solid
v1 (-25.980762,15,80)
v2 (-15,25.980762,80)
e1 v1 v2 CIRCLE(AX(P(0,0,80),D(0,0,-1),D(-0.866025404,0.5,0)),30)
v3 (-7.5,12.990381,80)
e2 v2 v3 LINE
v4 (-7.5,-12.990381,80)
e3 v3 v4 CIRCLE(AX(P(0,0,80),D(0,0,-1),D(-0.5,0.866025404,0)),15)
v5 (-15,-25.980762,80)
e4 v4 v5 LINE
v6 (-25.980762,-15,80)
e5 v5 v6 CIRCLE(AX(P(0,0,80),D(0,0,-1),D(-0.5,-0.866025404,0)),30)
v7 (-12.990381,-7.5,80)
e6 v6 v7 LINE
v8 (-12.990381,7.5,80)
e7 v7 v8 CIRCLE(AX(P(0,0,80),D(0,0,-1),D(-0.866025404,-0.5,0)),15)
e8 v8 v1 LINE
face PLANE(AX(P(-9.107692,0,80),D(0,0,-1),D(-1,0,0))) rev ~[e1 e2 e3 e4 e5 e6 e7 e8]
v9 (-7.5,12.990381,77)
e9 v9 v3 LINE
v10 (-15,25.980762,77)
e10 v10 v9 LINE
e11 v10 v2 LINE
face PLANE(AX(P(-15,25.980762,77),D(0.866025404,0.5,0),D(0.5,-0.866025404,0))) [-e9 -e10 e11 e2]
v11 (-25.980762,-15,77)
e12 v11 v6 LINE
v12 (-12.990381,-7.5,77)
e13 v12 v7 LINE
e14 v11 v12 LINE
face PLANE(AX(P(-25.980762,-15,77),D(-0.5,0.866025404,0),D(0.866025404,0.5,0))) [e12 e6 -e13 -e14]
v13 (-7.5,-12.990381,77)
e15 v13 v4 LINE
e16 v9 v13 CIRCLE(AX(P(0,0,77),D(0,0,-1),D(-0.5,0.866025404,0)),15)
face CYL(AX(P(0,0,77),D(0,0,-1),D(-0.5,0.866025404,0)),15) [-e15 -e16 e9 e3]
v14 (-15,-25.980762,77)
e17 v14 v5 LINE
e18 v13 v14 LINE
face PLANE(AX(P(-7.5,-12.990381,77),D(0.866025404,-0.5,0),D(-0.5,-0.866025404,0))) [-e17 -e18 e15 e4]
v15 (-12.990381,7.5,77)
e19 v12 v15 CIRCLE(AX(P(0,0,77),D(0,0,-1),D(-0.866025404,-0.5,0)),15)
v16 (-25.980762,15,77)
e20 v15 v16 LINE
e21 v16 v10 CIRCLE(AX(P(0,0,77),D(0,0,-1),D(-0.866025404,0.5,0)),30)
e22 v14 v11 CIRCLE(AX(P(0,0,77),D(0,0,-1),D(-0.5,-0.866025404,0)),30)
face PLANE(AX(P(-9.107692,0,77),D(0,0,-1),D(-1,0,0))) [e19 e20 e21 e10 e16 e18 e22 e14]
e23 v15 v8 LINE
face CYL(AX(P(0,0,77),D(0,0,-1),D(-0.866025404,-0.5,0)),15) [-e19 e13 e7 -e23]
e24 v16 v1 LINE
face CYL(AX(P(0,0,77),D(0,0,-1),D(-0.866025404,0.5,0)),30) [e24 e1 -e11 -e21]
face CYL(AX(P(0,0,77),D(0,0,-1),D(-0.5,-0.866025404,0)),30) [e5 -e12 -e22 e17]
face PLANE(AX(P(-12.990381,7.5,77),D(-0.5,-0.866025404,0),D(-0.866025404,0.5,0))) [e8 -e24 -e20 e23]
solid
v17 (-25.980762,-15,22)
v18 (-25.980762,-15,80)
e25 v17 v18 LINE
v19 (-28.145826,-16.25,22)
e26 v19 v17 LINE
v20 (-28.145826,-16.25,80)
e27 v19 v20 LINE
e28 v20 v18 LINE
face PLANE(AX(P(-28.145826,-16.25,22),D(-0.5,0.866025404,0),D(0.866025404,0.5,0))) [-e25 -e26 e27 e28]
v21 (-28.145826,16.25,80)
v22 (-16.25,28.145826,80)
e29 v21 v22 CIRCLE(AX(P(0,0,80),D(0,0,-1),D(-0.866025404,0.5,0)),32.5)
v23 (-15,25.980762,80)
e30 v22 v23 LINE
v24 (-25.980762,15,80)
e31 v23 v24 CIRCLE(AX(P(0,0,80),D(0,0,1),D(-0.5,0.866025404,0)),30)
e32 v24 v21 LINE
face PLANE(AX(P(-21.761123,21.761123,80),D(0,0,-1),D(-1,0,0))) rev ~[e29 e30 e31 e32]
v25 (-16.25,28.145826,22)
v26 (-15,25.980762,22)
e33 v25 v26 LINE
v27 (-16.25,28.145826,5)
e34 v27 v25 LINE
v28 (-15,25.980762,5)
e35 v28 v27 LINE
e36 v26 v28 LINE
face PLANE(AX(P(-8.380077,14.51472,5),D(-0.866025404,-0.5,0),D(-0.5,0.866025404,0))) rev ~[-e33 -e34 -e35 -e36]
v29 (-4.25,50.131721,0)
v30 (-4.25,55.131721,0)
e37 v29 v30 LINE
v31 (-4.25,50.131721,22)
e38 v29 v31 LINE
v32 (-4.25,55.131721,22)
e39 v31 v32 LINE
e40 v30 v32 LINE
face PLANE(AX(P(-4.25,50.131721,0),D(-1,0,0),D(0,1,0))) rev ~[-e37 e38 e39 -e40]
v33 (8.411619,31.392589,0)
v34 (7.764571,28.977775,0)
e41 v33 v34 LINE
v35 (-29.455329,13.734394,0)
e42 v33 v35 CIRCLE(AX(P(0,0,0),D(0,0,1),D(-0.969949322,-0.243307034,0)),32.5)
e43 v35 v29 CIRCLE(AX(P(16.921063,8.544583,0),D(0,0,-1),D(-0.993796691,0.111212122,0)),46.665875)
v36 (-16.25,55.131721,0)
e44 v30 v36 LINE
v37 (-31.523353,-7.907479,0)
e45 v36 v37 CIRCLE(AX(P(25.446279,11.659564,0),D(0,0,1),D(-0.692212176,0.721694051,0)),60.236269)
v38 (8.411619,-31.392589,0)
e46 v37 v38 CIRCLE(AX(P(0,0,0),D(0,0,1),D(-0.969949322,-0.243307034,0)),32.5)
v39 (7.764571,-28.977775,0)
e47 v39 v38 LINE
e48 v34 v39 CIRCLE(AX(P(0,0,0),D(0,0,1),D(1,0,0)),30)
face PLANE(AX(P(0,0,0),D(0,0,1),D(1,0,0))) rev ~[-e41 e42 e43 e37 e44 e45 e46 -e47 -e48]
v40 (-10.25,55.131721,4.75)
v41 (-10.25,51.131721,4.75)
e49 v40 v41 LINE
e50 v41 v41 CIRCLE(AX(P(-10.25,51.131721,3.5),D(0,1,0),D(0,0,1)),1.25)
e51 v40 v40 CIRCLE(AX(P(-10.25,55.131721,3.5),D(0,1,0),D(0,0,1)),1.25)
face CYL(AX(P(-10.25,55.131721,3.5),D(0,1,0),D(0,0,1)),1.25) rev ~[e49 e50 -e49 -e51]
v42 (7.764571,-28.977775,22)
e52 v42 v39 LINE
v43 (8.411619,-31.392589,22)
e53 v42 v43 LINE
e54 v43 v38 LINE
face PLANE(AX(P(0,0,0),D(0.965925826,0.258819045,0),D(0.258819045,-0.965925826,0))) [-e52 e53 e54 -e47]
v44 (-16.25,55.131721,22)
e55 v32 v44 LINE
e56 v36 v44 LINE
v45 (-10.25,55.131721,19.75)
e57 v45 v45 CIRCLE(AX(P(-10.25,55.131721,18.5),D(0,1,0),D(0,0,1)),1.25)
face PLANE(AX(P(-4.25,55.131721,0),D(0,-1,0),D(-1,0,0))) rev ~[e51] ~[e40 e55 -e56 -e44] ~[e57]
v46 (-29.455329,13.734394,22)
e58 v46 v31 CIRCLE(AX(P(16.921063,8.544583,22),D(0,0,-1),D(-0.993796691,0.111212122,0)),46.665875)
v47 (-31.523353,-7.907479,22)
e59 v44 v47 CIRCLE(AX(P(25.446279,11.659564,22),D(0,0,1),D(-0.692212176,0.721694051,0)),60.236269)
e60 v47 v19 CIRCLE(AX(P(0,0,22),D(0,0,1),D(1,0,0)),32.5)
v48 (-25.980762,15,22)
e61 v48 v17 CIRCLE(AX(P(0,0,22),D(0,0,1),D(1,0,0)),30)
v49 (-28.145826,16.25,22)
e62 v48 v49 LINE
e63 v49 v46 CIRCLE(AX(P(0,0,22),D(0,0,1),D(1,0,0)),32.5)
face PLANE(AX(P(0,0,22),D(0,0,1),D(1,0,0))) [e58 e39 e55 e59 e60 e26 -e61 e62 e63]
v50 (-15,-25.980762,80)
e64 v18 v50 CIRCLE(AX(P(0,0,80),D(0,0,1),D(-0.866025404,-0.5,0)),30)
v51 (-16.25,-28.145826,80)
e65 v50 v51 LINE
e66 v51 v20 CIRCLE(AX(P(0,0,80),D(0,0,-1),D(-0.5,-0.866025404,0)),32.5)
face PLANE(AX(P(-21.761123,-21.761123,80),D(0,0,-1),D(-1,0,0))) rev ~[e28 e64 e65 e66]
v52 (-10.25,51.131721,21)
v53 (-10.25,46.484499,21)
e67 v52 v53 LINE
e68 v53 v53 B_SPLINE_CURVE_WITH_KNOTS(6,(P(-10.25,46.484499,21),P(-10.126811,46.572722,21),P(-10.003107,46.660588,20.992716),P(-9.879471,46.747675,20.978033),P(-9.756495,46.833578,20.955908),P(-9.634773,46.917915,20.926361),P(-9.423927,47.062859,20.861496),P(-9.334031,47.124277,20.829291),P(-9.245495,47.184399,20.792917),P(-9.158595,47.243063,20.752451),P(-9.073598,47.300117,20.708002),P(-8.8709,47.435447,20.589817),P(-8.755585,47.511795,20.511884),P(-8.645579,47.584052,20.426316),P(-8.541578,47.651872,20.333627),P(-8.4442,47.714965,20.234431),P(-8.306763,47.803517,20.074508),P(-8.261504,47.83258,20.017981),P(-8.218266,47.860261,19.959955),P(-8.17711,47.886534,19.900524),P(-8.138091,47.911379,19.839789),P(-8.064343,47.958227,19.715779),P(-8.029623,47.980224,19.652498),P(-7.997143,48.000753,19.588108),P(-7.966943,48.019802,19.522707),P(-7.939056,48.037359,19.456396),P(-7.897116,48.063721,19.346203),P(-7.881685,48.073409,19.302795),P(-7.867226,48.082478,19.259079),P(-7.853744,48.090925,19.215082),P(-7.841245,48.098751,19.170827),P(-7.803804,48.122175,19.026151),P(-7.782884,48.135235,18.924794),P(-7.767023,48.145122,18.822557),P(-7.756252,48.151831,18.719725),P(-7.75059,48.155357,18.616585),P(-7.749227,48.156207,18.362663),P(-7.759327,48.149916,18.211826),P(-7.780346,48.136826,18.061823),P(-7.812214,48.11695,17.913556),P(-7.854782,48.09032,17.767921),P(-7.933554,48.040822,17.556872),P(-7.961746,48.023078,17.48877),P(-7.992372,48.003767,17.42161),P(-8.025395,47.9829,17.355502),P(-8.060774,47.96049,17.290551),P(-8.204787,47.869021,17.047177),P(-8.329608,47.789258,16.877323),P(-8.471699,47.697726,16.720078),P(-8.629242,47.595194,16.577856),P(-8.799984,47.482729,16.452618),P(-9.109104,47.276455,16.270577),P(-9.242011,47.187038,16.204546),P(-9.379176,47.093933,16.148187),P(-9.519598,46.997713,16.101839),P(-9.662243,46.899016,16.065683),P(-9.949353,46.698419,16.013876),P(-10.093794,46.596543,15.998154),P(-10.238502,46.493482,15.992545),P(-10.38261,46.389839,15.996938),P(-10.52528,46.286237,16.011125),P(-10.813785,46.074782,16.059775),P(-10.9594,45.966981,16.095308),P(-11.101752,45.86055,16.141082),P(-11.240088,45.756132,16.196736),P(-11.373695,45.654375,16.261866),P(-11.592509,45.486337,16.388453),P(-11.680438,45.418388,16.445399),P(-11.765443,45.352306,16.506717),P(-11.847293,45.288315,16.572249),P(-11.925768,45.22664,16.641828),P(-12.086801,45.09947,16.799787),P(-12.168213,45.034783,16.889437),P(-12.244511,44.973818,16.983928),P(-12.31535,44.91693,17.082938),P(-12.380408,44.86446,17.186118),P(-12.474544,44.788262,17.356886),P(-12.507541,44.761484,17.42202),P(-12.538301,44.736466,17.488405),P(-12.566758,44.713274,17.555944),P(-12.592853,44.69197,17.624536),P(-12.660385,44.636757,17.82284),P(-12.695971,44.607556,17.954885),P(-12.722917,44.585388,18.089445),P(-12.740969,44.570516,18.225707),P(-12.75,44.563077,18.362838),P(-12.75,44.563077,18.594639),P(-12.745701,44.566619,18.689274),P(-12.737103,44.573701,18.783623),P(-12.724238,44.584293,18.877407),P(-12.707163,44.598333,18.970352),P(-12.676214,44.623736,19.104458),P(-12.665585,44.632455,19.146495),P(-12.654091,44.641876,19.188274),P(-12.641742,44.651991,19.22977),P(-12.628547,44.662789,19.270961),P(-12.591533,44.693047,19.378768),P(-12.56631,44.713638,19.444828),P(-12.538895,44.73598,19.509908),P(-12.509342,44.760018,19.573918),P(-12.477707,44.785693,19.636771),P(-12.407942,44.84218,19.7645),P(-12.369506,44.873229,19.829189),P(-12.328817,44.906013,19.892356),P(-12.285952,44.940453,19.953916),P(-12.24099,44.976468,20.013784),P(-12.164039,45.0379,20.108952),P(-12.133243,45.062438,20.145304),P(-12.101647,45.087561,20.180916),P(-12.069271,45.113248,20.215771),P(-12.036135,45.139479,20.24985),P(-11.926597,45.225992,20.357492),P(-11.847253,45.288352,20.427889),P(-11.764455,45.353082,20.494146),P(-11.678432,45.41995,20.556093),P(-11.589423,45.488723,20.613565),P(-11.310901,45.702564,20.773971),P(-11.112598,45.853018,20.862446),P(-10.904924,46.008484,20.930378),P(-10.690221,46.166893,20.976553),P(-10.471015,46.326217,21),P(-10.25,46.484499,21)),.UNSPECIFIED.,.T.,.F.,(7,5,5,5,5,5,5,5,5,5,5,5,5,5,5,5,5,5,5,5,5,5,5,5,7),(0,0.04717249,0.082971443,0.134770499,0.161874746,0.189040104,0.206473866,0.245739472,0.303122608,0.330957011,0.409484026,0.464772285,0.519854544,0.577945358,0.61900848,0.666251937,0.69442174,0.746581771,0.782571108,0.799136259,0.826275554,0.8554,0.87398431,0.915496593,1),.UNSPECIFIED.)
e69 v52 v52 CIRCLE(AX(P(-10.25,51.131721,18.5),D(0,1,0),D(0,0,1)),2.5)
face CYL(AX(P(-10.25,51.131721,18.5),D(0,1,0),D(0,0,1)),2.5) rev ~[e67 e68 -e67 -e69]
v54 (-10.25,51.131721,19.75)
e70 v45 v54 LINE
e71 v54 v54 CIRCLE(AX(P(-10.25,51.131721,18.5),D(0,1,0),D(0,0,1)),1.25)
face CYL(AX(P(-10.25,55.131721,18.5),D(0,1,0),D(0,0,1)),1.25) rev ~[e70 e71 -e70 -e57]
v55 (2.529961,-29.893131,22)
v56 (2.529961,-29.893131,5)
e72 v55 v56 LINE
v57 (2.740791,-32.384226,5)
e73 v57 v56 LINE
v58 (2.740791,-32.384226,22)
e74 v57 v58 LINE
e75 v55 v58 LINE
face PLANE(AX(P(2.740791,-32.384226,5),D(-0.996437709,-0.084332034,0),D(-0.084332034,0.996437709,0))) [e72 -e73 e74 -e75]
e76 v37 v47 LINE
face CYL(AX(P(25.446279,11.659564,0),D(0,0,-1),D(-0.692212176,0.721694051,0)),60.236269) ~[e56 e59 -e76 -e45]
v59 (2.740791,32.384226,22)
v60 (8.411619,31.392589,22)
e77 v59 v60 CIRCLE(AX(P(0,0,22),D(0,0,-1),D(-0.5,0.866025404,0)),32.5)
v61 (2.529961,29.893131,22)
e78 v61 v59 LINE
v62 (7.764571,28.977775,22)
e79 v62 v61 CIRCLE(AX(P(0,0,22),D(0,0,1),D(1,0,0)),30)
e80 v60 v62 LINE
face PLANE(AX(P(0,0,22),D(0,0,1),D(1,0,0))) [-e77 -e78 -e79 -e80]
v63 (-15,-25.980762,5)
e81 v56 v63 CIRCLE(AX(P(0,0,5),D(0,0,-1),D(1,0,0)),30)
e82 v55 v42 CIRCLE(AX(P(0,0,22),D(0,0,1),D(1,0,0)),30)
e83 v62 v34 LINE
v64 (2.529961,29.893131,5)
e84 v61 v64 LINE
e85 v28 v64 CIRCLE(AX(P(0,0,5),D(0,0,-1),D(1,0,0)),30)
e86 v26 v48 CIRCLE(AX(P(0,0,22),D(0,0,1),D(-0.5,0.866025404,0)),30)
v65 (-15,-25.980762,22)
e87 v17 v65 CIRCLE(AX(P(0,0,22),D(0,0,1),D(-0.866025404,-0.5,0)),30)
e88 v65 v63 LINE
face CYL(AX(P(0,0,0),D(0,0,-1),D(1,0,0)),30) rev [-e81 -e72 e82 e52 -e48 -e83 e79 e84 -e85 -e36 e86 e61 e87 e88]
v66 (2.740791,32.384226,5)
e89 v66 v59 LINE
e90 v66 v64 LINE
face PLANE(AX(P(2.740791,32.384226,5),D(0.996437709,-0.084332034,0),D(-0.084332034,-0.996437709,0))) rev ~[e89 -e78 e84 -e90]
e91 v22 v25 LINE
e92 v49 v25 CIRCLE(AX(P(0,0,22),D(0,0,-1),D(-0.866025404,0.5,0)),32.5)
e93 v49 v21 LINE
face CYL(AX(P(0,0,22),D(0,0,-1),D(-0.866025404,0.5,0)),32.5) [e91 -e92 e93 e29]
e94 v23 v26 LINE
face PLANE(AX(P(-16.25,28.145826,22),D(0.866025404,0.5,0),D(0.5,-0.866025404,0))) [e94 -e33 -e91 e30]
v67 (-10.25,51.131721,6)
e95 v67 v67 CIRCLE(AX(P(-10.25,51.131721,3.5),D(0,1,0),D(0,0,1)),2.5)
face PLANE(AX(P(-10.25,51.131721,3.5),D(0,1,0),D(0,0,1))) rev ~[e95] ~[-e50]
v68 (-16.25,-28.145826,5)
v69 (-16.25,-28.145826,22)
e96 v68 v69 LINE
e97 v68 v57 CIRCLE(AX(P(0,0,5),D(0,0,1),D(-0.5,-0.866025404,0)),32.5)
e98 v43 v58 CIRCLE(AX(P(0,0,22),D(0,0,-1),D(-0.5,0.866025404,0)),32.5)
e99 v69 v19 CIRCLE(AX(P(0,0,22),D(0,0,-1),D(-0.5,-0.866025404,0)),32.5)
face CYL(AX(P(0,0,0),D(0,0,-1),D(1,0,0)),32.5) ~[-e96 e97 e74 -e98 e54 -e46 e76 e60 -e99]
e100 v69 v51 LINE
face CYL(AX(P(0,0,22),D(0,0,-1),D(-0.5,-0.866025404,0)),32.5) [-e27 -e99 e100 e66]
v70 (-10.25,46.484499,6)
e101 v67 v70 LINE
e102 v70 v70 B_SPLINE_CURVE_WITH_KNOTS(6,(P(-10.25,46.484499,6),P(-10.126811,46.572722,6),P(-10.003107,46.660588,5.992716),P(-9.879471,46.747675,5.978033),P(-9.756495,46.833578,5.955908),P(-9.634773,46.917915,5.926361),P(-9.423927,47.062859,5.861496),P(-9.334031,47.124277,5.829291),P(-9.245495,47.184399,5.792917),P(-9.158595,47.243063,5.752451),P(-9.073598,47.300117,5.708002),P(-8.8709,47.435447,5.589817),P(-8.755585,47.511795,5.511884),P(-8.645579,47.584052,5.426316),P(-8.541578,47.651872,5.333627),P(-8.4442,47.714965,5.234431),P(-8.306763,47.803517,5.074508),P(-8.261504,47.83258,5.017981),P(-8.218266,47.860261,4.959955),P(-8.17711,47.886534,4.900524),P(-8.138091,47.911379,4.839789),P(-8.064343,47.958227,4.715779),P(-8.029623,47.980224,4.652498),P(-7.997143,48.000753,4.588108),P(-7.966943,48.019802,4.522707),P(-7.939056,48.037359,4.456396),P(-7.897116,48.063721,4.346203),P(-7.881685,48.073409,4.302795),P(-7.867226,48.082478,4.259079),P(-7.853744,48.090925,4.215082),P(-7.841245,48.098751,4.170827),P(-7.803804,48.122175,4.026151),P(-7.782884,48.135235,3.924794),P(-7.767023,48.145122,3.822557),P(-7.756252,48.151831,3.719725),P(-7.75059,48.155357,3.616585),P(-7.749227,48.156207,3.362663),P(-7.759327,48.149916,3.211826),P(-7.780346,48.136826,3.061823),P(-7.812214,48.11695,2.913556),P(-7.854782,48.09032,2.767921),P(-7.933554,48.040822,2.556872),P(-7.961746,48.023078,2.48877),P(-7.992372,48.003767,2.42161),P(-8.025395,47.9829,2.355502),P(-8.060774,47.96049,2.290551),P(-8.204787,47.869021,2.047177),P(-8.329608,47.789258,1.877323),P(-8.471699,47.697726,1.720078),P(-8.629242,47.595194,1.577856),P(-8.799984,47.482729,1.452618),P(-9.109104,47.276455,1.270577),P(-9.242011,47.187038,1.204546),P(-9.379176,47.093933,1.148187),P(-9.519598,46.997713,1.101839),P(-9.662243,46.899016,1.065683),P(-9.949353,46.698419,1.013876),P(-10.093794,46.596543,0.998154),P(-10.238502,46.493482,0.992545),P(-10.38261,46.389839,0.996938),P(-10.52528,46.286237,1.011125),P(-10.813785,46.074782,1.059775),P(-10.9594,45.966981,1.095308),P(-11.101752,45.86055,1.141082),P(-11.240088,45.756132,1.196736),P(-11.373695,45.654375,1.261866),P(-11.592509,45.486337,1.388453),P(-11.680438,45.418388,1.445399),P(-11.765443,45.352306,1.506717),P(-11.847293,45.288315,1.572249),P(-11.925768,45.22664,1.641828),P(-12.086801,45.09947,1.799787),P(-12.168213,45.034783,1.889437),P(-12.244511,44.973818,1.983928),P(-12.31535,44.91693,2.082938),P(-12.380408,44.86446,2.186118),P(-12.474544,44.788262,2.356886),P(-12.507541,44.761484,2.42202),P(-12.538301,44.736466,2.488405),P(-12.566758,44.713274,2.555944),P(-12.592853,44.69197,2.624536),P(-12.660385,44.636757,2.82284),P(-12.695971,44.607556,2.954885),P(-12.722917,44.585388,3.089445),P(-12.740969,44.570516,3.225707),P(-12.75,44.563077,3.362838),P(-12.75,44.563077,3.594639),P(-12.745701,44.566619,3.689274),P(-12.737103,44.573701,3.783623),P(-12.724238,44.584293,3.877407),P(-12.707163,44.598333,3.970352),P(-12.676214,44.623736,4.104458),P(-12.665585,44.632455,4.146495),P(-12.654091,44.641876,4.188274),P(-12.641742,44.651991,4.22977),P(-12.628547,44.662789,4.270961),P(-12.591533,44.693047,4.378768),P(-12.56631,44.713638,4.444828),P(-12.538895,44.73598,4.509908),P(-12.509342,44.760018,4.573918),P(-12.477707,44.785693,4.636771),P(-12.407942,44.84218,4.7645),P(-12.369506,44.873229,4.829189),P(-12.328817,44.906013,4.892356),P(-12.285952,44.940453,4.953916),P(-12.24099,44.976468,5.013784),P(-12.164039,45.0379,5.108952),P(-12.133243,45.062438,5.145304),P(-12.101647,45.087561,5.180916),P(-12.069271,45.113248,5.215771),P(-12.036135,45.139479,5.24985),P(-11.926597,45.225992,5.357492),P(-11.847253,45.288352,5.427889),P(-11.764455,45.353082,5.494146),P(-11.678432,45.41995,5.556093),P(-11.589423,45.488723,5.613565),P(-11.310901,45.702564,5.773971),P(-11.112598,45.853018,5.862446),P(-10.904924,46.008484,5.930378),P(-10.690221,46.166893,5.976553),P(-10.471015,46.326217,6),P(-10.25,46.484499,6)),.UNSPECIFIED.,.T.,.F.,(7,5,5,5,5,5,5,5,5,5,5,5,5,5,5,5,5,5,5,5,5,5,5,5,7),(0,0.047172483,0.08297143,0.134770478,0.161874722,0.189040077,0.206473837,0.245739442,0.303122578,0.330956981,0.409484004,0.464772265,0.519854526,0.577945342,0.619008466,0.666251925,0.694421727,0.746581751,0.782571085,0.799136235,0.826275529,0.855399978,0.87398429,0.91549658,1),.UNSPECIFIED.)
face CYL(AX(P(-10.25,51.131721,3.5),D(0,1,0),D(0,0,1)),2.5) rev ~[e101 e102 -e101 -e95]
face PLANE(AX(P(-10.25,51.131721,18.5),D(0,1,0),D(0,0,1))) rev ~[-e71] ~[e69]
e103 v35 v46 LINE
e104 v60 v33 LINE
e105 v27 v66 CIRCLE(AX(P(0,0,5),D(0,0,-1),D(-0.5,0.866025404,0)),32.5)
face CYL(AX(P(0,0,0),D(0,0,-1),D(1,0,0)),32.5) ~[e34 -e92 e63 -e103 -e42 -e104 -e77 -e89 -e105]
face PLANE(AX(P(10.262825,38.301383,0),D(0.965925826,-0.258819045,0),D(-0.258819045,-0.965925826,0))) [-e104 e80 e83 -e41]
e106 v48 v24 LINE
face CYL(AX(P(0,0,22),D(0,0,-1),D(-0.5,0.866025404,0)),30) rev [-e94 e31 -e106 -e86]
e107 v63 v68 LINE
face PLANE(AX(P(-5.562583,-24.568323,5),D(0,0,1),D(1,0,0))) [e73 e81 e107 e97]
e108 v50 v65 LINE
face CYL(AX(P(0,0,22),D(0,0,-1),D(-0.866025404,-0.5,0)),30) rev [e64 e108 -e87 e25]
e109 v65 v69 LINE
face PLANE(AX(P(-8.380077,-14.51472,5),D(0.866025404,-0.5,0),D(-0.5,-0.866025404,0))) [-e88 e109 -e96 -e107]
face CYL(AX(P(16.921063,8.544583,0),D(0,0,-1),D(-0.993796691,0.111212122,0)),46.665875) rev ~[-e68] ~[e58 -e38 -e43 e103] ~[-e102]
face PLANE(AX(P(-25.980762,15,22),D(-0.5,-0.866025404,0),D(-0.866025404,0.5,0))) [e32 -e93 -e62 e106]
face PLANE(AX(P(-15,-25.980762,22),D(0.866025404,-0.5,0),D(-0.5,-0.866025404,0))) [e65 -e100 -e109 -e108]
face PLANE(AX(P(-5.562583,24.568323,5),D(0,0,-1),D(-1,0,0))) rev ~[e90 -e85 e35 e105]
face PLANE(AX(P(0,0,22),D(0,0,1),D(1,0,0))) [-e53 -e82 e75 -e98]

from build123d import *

# Parameters (mm, degrees)
ESQUISSE1_R                  = 32.5
ESQUISSE1_R_2                = 30
BOSS_EXTRU_1_DEPTH           = 22
BOSS_EXTRU_2_DEPTH           = 58
BOSS_EXTRU_3_START           = -77
BOSS_EXTRU_3_DEPTH           = 3
BOSS_EXTRU_4_DEPTH           = 22
ENL_V_MAT_EXTRU_1_DEPTH      = 22
ENL_V_START                  = -5
ENL_V_MAT_EXTRU_3_DEPTH      = 52
ESQUISSE9_R                  = 1.25
ENL_V_MAT_EXTRU_4_DEPTH      = 4
ENL_V_MAT_EXTRU_5_REACH      = 122.85
ENL_V_MAT_EXTRU_5_END_RADIUS = 46.665875386
ESQUISSE10_R                 = 2.5


with BuildPart() as part:
    # Esquisse1 → Boss.-Extru.1 (new body)
    with BuildSketch(Plane.XY):
        Circle(ESQUISSE1_R)
        Circle(ESQUISSE1_R_2, mode=Mode.SUBTRACT)
    extrude(amount=BOSS_EXTRU_1_DEPTH)

    # Esquisse2 → Boss.-Extru.2 (add)
    with BuildSketch(Plane.XY.offset(22)):
        with BuildLine():
            Line((-16.25, 28.145825623), (-15, 25.980762114))
            ThreePointArc((-15, 25.980762114), (-21.213203436, 21.213203436), (-25.980762114, 15))
            Line((-25.980762114, 15), (-28.145825623, 16.25))
            ThreePointArc((-28.145825623, 16.25), (-22.980970389, 22.980970389), (-16.25, 28.145825623))
        make_face()
        with BuildLine():
            Line((-28.145825623, -16.25), (-25.980762114, -15))
            ThreePointArc((-25.980762114, -15), (-21.213203436, -21.213203436), (-15, -25.980762114))
            Line((-15, -25.980762114), (-16.25, -28.145825623))
            ThreePointArc((-16.25, -28.145825623), (-22.980970389, -22.980970389), (-28.145825623, -16.25))
        make_face()
    extrude(amount=BOSS_EXTRU_2_DEPTH)

    # Esquisse5 → Boss.-Extru.4 (add)
    with BuildSketch(Plane(origin=(0, 0, 0), x_dir=(-1, 0, 0), z_dir=(0, 0, -1))):
        with BuildLine():
            Line((4.25, 50.131720502), (4.25, 55.131720502))
            Line((4.25, 55.131720502), (16.25, 55.131720502))
            ThreePointArc((16.25, 55.131720502), (33.096232565, 25.843443716), (31.523352961, -7.907478619))
            ThreePointArc((31.523352961, -7.907478619), (32.352628695, 3.091507158), (29.455329215, 13.734394083))
            ThreePointArc((29.455329215, 13.734394083), (21.443712719, 35.112380899), (4.25, 50.131720502))
        make_face()
    extrude(amount=-BOSS_EXTRU_4_DEPTH)

    # Esquisse6 → Enlèv. mat.-Extru.1 (cut)
    with BuildSketch(Plane(origin=(0, 0, 0), x_dir=(-1, 0, 0), z_dir=(0, 0, -1))):
        Polygon((0, 0), (-10.262824663, -38.301383073), (-52.320818682, 0), (-10.262824663, 38.301383073), align=None)
    extrude(amount=-ENL_V_MAT_EXTRU_1_DEPTH, mode=Mode.SUBTRACT)

    # Esquisse8 → Enlèv. mat.-Extru.3 (cut)
    with BuildSketch(Plane(origin=(0, 0, 0), x_dir=(-1, 0, 0), z_dir=(0, 0, -1)).offset(ENL_V_START)):
        with BuildLine():
            Line((-2.740791097, 32.384225545), (-1.521870682, 17.981889782))
            Line((-1.521870682, 17.981889782), (8.380077244, 14.514719558))
            Line((8.380077244, 14.514719558), (16.25, 28.145825623))
            ThreePointArc((16.25, 28.145825623), (7.079243588, 31.719620272), (-2.740791097, 32.384225545))
        make_face()
        with BuildLine():
            Line((-2.740791097, -32.384225545), (-1.521870682, -17.981889782))
            Line((-1.521870682, -17.981889782), (8.380077244, -14.514719558))
            Line((8.380077244, -14.514719558), (16.25, -28.145825623))
            ThreePointArc((16.25, -28.145825623), (7.079243588, -31.719620272), (-2.740791097, -32.384225545))
        make_face()
    extrude(amount=-ENL_V_MAT_EXTRU_3_DEPTH, mode=Mode.SUBTRACT)

    # Esquisse9 → Enlèv. mat.-Extru.4 (cut)
    with BuildSketch(Plane(origin=(0, 55.131720502, 0), x_dir=(1, 0, 0), z_dir=(0, 1, 0))):
        with Locations(Location((-10.25, -3.5, 0), (0, 0, 270))):
            Circle(ESQUISSE9_R)
        with Locations(Location((-10.25, -18.5, 0), (0, 0, 270))):
            Circle(ESQUISSE9_R)
    extrude(amount=-ENL_V_MAT_EXTRU_4_DEPTH, mode=Mode.SUBTRACT)

    # Enlèv. mat.-Extru.5: up to this cylinder (the profile starts outside it)
    enl_v_mat_extru_5_end = Plane(origin=(16.921063344, 8.544583039, 11), z_dir=(0, 0, -1)) * Cylinder(ENL_V_MAT_EXTRU_5_END_RADIUS, 355.031750771, mode=Mode.PRIVATE)
    # Esquisse10 → Enlèv. mat.-Extru.5 (cut, up to the surface)
    with BuildSketch(Plane(origin=(0, 51.131720502, 0), x_dir=(1, 0, 0), z_dir=(0, 1, 0)), mode=Mode.PRIVATE) as enl_v_mat_extru_5_sk1:
        with Locations(Location((-10.25, -3.5, 0), (0, 0, 270))):
            Circle(ESQUISSE10_R)
    enl_v_mat_extru_5_tool1 = extrude(enl_v_mat_extru_5_sk1.sketch, amount=-ENL_V_MAT_EXTRU_5_REACH, mode=Mode.PRIVATE) - enl_v_mat_extru_5_end
    add(enl_v_mat_extru_5_tool1.solids().sort_by_distance((-10.25, 51.131721, 3.5))[0], mode=Mode.SUBTRACT)
    # Esquisse10 → Enlèv. mat.-Extru.5 (cut, up to the surface)
    with BuildSketch(Plane(origin=(0, 51.131720502, 0), x_dir=(1, 0, 0), z_dir=(0, 1, 0)), mode=Mode.PRIVATE) as enl_v_mat_extru_5_sk2:
        with Locations(Location((-10.25, -18.5, 0), (0, 0, 270))):
            Circle(ESQUISSE10_R)
    enl_v_mat_extru_5_tool2 = extrude(enl_v_mat_extru_5_sk2.sketch, amount=-ENL_V_MAT_EXTRU_5_REACH, mode=Mode.PRIVATE) - enl_v_mat_extru_5_end
    add(enl_v_mat_extru_5_tool2.solids().sort_by_distance((-10.25, 51.131721, 18.5))[0], mode=Mode.SUBTRACT)


with BuildPart() as body_2:
    # Esquisse3 → Boss.-Extru.3 (new body)
    with BuildSketch(Plane(origin=(0, 0, 0), x_dir=(-1, 0, 0), z_dir=(0, 0, -1)).offset(BOSS_EXTRU_3_START)):
        with BuildLine():
            ThreePointArc((12.990381057, -7.5), (15, 0), (12.990381057, 7.5))
            Line((12.990381057, 7.5), (25.980762114, 15))
            ThreePointArc((25.980762114, 15), (21.213203436, 21.213203436), (15, 25.980762114))
            Line((15, 25.980762114), (7.5, 12.990381057))
            ThreePointArc((7.5, 12.990381057), (-15, 0), (7.5, -12.990381057))
            Line((7.5, -12.990381057), (15, -25.980762114))
            ThreePointArc((15, -25.980762114), (21.213203436, -21.213203436), (25.980762114, -15))
            Line((25.980762114, -15), (12.990381057, -7.5))
        make_face()
    extrude(amount=-BOSS_EXTRU_3_DEPTH)


solid = Compound([part.part, body_2.part])
